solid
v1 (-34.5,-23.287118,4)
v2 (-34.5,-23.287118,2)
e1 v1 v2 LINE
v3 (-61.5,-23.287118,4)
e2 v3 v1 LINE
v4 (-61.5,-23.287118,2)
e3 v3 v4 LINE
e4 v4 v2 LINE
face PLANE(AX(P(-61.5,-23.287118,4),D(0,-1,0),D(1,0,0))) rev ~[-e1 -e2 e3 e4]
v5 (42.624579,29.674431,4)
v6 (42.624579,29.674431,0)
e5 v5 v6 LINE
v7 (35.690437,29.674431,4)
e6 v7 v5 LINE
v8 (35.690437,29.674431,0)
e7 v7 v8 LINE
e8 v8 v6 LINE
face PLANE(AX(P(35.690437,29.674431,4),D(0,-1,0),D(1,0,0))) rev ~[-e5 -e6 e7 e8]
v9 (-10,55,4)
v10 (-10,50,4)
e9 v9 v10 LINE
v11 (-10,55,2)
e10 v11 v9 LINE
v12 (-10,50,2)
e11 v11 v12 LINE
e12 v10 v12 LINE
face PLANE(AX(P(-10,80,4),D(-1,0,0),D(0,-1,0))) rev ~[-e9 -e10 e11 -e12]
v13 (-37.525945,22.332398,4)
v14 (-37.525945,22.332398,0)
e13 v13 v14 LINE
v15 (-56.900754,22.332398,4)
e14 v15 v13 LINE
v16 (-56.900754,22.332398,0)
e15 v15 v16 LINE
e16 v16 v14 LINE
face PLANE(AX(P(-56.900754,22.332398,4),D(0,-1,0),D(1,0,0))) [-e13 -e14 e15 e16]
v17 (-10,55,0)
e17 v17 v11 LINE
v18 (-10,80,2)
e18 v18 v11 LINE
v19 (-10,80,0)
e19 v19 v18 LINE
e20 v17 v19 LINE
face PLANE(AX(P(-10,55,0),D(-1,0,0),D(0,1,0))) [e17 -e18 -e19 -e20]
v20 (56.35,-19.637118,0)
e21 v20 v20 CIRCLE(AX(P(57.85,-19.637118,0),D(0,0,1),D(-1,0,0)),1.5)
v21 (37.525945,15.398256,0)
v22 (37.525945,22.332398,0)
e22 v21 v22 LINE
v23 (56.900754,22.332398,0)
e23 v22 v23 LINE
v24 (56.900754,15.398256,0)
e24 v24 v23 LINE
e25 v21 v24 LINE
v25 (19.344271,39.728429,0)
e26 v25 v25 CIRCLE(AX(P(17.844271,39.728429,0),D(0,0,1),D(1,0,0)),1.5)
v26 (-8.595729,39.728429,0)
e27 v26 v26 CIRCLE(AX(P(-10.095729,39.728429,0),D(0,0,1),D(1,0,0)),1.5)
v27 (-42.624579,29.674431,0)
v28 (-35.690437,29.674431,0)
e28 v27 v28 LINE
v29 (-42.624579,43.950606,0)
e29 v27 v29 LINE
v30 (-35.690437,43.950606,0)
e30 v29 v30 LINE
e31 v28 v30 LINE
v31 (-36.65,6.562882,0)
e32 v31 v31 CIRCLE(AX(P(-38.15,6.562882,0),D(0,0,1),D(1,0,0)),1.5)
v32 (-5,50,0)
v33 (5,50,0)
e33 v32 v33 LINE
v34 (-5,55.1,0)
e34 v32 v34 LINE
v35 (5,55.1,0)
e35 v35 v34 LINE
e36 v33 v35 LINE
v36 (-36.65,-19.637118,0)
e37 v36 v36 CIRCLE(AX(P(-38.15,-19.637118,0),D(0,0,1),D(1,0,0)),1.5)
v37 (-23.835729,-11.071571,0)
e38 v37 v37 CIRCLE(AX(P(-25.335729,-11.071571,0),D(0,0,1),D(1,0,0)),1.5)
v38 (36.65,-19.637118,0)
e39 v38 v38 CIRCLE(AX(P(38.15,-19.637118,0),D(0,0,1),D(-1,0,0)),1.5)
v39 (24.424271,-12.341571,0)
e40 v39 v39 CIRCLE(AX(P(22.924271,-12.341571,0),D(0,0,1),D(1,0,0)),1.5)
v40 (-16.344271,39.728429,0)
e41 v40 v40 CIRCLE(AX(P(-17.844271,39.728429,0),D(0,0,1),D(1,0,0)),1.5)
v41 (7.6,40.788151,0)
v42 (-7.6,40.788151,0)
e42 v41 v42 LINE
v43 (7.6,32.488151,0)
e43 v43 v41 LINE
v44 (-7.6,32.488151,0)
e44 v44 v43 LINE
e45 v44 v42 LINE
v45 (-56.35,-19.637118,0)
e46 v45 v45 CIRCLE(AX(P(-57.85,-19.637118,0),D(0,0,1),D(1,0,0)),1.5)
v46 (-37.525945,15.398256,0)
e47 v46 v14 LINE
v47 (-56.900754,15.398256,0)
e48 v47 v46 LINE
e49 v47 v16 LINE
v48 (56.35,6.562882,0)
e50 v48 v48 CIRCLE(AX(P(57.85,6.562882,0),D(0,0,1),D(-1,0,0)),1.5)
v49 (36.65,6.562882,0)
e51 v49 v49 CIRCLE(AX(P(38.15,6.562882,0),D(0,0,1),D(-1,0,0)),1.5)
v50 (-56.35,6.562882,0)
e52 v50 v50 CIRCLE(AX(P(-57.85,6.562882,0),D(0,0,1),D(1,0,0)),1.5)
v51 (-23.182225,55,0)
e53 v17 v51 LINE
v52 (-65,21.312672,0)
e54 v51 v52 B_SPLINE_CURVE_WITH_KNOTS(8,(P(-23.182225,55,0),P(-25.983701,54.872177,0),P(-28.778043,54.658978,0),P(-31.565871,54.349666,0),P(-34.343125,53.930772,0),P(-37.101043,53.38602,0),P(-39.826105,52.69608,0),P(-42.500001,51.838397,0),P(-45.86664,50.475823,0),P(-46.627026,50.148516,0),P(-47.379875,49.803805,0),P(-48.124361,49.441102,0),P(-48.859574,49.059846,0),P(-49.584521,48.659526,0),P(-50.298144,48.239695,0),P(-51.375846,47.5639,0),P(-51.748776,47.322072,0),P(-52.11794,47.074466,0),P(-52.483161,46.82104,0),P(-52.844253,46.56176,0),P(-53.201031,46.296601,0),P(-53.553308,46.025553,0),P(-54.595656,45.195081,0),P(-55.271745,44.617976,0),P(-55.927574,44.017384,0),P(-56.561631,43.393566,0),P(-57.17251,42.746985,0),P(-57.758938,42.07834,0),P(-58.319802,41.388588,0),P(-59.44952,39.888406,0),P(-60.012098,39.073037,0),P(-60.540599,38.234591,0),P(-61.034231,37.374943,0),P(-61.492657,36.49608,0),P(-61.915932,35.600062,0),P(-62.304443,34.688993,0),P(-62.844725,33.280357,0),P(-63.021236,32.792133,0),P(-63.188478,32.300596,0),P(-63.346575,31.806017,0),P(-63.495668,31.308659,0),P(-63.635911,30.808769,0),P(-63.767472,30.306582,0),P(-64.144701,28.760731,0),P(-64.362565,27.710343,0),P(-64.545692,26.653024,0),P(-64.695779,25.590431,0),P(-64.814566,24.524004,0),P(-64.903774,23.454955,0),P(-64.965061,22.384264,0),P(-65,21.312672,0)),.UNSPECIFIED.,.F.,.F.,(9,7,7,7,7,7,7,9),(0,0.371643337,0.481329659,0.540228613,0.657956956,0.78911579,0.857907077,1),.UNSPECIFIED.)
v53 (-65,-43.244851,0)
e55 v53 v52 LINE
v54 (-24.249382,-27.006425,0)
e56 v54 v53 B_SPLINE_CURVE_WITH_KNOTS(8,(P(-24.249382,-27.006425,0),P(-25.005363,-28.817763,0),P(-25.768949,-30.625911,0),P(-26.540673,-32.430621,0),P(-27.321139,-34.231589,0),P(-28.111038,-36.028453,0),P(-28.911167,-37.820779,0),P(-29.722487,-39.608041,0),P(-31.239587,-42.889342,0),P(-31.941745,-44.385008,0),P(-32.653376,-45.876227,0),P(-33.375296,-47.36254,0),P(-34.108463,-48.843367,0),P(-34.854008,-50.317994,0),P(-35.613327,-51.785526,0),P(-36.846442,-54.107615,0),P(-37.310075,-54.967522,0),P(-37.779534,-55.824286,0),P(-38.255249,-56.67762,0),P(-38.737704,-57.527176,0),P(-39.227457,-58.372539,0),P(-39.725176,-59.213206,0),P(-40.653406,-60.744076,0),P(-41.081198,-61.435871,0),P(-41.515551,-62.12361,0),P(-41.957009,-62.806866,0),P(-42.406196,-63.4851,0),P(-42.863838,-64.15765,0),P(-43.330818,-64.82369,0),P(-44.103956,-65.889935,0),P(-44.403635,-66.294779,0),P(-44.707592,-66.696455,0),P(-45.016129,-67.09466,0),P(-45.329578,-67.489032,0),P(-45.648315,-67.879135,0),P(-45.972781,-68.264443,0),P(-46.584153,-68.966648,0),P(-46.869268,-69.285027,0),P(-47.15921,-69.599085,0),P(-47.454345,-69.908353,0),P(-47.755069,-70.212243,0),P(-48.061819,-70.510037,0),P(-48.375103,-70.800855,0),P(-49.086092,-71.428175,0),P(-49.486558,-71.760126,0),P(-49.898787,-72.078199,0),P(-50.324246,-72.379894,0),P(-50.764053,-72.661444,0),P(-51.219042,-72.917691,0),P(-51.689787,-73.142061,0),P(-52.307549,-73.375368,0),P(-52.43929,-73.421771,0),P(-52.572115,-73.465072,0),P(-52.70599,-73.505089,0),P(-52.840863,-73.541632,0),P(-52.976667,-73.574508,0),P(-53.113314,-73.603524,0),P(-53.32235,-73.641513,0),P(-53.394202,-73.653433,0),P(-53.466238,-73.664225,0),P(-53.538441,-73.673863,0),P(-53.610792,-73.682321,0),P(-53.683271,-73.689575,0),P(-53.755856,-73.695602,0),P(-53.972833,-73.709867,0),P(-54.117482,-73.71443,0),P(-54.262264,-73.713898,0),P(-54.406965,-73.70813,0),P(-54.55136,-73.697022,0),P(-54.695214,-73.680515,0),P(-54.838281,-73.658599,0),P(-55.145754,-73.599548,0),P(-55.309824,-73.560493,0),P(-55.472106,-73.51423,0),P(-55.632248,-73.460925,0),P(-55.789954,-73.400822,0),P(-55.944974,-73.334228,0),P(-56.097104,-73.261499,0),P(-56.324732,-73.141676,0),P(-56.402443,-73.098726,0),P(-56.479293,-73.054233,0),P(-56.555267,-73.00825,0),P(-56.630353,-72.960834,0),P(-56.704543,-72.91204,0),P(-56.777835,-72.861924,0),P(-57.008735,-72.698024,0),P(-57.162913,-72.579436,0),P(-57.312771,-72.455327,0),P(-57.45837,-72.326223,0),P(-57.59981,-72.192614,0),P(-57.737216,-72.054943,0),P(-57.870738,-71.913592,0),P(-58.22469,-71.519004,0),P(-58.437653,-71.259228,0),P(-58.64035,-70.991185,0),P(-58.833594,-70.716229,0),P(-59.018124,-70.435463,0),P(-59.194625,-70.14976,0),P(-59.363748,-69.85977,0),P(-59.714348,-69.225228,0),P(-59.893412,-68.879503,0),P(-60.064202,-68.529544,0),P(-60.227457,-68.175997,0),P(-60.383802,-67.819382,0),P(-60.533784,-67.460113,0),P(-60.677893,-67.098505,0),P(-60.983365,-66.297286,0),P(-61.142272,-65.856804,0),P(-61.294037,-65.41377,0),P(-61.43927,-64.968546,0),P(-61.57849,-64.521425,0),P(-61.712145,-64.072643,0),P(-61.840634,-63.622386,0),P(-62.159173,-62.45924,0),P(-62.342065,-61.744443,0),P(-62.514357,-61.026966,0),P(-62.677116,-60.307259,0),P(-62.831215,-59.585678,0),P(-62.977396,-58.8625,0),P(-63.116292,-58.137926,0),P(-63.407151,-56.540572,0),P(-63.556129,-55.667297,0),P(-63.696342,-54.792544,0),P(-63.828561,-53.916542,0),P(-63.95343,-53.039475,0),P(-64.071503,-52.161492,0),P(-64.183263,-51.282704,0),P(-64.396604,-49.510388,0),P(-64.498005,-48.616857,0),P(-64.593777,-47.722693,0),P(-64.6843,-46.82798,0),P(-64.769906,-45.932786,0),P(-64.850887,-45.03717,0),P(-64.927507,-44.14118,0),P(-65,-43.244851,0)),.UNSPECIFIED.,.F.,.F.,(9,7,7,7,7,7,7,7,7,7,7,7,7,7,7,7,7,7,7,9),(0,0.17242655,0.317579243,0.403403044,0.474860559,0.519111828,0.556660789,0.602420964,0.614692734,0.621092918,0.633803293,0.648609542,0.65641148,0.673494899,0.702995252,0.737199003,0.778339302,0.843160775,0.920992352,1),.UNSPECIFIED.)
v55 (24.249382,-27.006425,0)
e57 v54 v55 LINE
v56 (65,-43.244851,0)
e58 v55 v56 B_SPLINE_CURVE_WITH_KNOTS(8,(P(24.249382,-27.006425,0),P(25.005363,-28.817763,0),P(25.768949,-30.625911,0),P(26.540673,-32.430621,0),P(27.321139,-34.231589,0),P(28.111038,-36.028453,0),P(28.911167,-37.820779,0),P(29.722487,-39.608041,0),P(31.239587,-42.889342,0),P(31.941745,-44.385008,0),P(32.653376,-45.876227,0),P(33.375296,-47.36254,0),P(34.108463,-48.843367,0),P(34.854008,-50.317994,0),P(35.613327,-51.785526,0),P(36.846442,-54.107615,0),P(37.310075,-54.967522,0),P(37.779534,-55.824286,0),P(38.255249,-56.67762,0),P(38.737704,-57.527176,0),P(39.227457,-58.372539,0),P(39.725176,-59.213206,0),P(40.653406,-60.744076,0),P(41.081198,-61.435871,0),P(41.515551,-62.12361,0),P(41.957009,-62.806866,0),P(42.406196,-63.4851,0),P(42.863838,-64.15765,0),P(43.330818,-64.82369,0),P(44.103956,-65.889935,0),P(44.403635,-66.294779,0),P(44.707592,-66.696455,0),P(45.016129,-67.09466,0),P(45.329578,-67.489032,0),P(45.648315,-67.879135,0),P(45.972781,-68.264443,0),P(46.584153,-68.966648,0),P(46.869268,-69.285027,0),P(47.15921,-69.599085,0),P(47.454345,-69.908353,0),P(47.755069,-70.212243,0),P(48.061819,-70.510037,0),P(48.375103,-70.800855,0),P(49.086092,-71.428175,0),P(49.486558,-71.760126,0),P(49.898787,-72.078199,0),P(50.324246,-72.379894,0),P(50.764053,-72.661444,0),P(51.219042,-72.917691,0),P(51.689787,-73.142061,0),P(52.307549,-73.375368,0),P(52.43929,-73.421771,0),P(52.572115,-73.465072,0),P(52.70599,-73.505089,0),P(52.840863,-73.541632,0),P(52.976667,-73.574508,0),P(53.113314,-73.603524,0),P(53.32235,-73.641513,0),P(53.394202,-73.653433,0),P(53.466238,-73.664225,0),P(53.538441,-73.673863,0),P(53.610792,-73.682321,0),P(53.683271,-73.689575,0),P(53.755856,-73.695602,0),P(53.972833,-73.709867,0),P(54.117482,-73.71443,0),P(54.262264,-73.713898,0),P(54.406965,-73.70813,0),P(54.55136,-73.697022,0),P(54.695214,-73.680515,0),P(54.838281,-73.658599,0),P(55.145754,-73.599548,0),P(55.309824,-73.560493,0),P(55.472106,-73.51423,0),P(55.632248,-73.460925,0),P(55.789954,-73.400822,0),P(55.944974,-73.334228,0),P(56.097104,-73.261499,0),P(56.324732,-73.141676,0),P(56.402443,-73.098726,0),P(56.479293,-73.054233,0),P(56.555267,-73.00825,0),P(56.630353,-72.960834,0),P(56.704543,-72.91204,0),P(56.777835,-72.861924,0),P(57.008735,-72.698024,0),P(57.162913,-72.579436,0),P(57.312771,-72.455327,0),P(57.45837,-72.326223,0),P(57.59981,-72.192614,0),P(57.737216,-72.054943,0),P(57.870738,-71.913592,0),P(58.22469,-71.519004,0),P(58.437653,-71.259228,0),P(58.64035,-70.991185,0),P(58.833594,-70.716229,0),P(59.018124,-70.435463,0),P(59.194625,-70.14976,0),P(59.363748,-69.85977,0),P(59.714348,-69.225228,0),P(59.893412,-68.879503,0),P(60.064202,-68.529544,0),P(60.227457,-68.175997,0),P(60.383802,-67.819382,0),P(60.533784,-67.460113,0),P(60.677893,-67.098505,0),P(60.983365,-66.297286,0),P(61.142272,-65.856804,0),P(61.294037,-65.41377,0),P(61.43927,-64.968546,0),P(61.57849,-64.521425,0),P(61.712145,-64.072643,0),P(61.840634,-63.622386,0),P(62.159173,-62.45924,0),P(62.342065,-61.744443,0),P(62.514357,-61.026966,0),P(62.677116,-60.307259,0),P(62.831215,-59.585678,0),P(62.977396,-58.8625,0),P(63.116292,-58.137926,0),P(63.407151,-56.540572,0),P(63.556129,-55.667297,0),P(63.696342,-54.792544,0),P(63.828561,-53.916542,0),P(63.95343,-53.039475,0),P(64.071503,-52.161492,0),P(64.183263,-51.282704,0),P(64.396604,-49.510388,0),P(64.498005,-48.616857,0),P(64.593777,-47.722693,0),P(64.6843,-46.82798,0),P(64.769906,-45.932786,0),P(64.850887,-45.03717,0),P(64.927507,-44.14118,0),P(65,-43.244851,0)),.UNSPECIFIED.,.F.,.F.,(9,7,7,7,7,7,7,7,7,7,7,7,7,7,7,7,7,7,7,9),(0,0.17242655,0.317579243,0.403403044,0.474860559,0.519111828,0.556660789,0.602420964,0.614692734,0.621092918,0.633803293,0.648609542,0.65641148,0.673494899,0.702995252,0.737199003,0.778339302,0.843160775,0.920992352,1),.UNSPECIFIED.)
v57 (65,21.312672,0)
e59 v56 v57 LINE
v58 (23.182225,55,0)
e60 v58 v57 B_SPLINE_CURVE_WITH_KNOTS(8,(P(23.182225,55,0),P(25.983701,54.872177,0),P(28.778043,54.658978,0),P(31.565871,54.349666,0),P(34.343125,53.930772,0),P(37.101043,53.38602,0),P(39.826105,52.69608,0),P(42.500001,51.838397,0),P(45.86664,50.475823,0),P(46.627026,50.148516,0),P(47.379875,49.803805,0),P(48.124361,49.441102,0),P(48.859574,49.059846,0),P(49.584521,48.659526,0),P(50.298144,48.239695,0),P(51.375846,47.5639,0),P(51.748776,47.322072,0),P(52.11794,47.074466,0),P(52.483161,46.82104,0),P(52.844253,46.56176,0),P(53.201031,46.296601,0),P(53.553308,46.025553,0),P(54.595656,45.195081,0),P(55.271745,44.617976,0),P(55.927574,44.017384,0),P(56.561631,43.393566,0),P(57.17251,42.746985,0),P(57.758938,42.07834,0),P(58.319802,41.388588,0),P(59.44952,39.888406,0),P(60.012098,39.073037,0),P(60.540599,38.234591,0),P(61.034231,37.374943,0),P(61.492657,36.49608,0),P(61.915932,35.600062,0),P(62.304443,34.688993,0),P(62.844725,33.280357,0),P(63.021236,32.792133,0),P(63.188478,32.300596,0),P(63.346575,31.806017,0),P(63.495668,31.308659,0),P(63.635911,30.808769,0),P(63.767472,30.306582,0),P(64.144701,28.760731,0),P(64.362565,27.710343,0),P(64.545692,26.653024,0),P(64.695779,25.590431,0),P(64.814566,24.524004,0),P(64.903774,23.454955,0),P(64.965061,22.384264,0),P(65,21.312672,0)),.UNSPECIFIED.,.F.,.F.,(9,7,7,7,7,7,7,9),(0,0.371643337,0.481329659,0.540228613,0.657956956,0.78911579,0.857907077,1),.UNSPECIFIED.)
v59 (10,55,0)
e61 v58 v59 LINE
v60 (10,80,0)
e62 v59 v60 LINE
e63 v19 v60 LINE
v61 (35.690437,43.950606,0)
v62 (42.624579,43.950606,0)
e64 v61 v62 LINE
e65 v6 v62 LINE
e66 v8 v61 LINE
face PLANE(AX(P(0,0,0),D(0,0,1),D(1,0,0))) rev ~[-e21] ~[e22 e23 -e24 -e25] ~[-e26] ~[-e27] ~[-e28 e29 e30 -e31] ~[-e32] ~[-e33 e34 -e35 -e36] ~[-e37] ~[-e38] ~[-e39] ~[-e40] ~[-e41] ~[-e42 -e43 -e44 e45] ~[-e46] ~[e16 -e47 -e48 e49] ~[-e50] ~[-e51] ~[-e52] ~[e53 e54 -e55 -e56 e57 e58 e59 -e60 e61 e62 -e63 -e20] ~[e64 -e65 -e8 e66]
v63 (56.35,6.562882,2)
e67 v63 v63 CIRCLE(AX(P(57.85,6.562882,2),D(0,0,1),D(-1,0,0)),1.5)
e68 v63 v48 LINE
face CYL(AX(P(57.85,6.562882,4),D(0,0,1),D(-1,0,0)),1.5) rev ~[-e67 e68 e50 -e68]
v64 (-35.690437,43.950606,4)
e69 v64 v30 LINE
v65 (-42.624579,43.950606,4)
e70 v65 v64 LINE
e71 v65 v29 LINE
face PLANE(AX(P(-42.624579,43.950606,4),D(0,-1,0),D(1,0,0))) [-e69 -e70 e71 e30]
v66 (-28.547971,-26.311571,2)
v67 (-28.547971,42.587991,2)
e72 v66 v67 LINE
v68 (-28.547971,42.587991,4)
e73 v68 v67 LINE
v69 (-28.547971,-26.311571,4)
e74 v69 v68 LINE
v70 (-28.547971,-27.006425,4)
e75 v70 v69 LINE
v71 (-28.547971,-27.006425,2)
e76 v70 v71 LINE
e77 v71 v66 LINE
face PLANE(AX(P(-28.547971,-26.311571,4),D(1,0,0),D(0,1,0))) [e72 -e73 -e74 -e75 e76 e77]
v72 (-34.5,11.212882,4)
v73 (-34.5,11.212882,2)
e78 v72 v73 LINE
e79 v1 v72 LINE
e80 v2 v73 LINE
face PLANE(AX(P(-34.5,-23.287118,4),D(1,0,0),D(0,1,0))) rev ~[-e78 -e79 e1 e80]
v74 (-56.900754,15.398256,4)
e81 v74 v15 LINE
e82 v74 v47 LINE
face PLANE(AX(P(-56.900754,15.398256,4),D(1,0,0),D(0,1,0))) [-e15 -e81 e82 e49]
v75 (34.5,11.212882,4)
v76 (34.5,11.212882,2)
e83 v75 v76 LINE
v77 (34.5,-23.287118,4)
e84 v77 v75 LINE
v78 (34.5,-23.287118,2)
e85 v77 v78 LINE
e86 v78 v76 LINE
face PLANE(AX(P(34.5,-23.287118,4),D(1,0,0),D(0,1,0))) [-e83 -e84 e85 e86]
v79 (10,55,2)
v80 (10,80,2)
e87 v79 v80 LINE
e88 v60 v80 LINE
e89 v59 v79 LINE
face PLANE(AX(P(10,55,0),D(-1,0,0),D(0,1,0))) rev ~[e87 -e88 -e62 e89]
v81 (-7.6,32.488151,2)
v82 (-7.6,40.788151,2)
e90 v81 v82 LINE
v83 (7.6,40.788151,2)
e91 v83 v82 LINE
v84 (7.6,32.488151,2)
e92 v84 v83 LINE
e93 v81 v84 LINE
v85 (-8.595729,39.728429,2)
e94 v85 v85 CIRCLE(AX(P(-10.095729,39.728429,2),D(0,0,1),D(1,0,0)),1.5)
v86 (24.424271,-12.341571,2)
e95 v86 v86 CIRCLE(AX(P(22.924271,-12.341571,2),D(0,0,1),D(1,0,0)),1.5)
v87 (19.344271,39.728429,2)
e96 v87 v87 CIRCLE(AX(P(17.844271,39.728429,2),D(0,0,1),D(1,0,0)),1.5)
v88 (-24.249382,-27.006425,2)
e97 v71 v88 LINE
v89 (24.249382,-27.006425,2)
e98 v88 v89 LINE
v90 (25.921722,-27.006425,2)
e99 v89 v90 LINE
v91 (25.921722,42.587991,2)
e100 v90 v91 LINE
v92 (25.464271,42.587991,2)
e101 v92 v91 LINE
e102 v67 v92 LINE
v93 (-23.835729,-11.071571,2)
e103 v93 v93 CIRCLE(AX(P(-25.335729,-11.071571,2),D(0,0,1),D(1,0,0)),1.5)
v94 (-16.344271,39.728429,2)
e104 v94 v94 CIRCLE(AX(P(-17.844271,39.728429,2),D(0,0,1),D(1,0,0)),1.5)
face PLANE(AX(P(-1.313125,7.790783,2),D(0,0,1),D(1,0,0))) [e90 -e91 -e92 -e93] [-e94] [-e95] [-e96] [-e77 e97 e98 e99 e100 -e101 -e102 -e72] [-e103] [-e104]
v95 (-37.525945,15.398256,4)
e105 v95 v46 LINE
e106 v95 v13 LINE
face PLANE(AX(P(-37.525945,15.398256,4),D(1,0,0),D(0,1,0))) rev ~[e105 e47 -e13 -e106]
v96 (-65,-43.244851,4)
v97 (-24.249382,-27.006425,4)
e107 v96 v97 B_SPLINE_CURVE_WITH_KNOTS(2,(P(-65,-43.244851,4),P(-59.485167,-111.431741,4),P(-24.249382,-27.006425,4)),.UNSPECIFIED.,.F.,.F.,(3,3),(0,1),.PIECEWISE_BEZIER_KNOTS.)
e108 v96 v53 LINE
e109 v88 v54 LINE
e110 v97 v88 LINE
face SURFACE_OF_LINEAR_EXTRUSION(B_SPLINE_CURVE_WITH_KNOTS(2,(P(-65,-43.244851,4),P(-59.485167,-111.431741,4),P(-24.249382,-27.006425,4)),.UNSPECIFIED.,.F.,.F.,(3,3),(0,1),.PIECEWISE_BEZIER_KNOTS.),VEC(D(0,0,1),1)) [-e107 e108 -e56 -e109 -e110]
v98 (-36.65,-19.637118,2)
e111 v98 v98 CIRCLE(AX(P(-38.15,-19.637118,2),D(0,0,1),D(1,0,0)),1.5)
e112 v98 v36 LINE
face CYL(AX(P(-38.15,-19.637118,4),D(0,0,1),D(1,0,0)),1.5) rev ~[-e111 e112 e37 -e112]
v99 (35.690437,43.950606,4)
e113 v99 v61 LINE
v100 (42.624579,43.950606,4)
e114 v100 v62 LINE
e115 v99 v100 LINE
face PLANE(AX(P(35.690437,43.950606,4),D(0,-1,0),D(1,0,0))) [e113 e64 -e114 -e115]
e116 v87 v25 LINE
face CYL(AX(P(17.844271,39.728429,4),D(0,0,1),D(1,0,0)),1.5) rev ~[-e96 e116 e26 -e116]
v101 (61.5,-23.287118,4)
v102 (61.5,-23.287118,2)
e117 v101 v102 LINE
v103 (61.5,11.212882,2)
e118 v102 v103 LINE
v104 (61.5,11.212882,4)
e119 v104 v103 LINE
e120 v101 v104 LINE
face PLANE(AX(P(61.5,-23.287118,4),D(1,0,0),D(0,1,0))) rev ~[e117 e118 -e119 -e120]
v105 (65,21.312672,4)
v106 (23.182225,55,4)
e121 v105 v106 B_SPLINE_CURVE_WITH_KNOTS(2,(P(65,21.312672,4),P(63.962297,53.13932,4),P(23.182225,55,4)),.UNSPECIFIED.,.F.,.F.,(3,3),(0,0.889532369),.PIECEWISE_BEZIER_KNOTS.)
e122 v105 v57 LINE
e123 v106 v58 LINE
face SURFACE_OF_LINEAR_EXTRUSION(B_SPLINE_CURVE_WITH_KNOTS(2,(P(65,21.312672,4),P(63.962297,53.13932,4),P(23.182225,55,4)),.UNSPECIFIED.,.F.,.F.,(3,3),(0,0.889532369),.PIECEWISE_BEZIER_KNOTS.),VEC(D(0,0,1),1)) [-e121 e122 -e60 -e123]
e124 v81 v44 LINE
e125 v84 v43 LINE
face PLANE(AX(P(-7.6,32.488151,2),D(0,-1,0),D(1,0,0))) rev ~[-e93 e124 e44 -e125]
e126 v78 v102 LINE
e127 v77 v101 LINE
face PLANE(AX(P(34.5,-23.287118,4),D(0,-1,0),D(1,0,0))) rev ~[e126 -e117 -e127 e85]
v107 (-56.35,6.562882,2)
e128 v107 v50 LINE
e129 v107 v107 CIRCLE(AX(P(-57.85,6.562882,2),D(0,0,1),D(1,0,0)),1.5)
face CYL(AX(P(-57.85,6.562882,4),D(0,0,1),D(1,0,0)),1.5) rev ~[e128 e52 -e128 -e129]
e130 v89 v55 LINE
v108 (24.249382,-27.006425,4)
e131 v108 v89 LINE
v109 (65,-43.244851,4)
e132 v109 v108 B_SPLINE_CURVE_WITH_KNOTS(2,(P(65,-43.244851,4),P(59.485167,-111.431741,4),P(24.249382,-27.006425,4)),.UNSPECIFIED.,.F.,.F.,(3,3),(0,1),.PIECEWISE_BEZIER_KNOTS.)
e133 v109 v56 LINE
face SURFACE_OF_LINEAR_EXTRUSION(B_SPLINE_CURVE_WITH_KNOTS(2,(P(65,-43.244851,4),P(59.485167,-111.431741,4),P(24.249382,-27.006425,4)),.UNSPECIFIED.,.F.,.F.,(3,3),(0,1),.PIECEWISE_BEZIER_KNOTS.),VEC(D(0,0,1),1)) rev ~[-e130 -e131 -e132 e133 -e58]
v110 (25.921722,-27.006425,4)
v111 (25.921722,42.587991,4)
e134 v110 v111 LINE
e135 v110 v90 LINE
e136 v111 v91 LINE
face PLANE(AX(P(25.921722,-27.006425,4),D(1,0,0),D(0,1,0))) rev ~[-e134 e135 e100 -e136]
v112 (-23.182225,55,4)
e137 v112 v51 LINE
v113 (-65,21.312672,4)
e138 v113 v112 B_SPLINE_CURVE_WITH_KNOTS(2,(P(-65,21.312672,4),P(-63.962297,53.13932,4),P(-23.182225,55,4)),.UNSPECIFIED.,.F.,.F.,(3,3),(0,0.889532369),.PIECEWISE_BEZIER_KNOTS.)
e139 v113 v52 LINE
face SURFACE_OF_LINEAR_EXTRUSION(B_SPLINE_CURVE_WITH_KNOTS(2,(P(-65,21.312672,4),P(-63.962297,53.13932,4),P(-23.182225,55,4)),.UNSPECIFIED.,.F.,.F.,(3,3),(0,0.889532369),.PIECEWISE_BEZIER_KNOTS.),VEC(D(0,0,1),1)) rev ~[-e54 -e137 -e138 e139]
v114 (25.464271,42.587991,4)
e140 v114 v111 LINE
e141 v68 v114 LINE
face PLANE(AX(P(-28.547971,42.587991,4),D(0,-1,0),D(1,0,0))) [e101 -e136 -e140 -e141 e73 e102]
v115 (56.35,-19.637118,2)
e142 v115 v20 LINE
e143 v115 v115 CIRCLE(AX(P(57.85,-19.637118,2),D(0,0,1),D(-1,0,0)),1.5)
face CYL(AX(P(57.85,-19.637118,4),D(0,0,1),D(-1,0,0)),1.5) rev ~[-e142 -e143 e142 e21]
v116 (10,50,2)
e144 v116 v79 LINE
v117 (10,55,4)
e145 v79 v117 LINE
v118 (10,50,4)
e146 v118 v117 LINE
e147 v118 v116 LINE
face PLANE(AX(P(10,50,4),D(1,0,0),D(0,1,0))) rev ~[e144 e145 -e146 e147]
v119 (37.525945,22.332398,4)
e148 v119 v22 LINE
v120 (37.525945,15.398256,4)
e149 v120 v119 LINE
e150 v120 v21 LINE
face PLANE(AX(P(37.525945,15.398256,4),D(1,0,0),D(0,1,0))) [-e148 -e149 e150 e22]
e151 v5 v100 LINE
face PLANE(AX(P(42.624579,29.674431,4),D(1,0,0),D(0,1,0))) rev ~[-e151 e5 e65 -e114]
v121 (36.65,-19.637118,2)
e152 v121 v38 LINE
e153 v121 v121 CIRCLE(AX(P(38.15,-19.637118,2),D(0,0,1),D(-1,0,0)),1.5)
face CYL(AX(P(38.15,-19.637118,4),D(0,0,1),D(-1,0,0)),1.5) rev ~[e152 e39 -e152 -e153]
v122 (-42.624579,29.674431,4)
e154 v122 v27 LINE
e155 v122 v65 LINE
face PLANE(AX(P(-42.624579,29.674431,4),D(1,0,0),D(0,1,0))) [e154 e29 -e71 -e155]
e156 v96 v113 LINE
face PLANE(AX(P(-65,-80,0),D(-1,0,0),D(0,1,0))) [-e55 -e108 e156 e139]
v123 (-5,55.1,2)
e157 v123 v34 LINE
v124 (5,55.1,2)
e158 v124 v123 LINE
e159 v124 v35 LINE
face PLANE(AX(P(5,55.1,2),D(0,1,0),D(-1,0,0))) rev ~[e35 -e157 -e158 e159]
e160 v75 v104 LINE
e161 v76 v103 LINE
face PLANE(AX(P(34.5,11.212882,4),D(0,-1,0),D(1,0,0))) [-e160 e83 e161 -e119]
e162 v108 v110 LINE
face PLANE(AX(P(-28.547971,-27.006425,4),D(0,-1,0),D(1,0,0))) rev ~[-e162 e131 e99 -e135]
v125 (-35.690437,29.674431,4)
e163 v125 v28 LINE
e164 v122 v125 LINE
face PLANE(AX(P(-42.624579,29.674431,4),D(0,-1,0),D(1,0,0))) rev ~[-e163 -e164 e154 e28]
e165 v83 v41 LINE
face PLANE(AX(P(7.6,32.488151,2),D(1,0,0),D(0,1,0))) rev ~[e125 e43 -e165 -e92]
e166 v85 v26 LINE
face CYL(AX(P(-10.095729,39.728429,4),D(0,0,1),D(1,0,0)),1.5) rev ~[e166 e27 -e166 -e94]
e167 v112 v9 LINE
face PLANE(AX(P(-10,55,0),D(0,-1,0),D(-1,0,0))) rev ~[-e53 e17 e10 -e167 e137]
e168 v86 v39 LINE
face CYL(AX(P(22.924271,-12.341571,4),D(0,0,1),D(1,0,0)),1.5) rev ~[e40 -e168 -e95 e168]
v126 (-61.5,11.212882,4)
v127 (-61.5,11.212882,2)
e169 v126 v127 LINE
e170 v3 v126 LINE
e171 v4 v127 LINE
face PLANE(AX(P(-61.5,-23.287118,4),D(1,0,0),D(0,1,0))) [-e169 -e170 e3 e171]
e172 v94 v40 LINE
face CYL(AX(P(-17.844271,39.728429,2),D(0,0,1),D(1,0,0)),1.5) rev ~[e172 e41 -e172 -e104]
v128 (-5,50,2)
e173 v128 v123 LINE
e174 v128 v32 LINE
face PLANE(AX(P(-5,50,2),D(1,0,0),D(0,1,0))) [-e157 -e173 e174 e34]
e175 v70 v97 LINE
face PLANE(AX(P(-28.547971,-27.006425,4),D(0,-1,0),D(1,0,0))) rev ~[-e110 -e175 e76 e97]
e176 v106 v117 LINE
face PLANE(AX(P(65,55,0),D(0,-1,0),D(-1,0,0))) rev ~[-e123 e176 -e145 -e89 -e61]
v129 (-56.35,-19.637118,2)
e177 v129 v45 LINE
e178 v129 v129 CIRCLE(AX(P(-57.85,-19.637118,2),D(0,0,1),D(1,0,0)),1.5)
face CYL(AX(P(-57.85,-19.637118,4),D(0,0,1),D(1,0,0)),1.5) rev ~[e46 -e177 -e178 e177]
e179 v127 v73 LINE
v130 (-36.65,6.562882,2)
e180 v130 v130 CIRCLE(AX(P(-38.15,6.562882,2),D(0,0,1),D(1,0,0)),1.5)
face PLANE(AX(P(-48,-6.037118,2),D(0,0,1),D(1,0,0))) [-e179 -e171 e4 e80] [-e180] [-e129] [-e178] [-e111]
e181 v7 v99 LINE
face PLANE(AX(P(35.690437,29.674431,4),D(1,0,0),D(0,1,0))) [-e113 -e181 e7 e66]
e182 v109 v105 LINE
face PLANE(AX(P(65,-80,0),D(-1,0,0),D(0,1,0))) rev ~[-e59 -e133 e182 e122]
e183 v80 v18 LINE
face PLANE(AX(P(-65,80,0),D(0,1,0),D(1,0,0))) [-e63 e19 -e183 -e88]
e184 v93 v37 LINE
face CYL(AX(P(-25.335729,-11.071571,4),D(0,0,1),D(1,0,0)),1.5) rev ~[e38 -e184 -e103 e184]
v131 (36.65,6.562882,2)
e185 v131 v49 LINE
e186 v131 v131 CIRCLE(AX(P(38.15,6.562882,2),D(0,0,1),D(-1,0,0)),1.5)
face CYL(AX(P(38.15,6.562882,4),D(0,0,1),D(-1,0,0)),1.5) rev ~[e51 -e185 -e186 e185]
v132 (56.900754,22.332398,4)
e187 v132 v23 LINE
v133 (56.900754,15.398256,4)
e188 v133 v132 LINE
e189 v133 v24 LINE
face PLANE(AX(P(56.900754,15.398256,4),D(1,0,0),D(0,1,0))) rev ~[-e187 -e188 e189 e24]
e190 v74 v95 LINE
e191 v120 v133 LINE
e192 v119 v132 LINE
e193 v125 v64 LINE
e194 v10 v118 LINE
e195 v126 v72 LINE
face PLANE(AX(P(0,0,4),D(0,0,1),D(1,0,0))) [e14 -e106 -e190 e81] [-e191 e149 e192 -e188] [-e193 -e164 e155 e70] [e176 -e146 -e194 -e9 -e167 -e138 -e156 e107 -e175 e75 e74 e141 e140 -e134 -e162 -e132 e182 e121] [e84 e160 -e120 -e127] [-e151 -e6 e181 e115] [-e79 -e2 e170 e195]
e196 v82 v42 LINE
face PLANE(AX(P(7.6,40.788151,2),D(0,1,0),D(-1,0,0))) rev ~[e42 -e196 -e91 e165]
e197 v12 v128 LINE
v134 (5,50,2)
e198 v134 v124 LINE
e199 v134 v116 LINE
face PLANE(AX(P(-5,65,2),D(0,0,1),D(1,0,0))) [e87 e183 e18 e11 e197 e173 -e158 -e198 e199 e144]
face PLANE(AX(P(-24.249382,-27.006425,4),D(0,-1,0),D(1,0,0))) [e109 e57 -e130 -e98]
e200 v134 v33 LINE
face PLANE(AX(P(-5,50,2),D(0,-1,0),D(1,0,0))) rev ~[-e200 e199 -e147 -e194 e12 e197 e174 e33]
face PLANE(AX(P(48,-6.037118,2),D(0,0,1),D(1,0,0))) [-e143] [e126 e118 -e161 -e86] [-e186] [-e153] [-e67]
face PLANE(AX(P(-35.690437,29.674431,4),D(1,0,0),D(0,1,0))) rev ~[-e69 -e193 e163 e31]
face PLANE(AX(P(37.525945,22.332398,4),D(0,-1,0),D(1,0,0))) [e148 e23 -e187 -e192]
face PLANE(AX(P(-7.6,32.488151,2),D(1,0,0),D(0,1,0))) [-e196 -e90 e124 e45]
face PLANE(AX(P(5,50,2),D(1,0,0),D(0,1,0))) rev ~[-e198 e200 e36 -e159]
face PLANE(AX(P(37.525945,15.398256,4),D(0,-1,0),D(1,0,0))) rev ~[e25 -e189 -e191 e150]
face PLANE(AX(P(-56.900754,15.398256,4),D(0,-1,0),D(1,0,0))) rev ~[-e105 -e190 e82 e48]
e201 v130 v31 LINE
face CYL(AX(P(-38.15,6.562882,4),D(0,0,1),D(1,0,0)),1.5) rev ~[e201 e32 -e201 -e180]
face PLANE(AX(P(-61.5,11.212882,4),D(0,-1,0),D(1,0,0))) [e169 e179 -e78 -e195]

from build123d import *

# Parameters (mm, degrees)
IZIM1_W                     = 130
IZIM1_H                     = 160
Y_KSEKLIK_EKSTR_ZYON1_DEPTH = 4
IZIM3_W                     = 55
IZIM3_H                     = 25
KES_EKSTR_ZYON1_DEPTH       = 4
KES_EKSTR_ZYON2_DEPTH       = 10
IZIM5_W                     = 54.012242348
IZIM5_H                     = 68.899562137
KES_EKSTR_ZYON3_DEPTH       = 2
IZIM8_W                     = 54.469692937
IZIM8_H                     = 69.59441616
KES_EKSTR_ZYON5_DEPTH       = 2
IZIM9_R                     = 1.5
KES_EKSTR_ZYON6_DEPTH       = 5
IZIM10_W                    = 27
IZIM10_H                    = 34.5
KES_EKSTR_ZYON7_DEPTH       = 2
IZIM11_R                    = 1.5
KES_EKSTR_ZYON8_DEPTH       = 5
KES_EKSTR_ZYON9_DEPTH       = 104.155222988
KES_EKSTR_ZYON9_DEPTH_BACK  = 5
KES_EKSTR_ZYON10_DEPTH      = 2
IZIM14_W                    = 5
IZIM14_H                    = 5.1
KES_EKSTR_ZYON11_DEPTH      = 9
IZIM15_W                    = 6.934142085
IZIM15_H                    = 14.276174882
IZIM15_W_2                  = 19.374808768
IZIM15_H_2                  = 6.934142085
KES_EKSTR_ZYON12_DEPTH      = 9
IZIM16_R                    = 1.5
KES_EKSTR_ZYON13_DEPTH      = 10
IZIM17_W                    = 7.6
IZIM17_H                    = 8.3
KES_EKSTR_ZYON14_DEPTH      = 10


with BuildPart() as part:
    # Çizim1 → Yükseklik-Ekstrüzyon1 (new body)
    with BuildSketch(Plane.XY):
        Rectangle(IZIM1_W, IZIM1_H)
    extrude(amount=Y_KSEKLIK_EKSTR_ZYON1_DEPTH)

    # Çizim3 → Kes-Ekstrüzyon1 (cut)
    with BuildSketch(Plane(origin=(0, 0, 0), x_dir=(-1, 0, 0), z_dir=(0, 0, -1))):
        with Locations((37.5, 67.5)):
            Rectangle(IZIM3_W, IZIM3_H)
        with Locations((-37.5, 67.5)):
            Rectangle(IZIM3_W, IZIM3_H)
    extrude(amount=-KES_EKSTR_ZYON1_DEPTH, mode=Mode.SUBTRACT)

    # Çizim4 → Kes-Ekstrüzyon2 (cut)
    with BuildSketch(Plane.XY.offset(4)):
        with BuildLine():
            Line((-24.249382275, -27.006425474), (24.249382275, -27.006425474))
            add(Edge.make_bspline(
                [(65, -43.244851104), (59.485167295, -111.431741319), (24.249382275, -27.006425474)],
                knots=[0, 0, 0, 1, 1, 1], degree=2))
            Line((65, -43.244851104), (65, -80))
            Line((65, -80), (-65, -80))
            Line((-65, -80), (-65, -43.244851104))
            add(Edge.make_bspline(
                [(-65, -43.244851104), (-59.485167295, -111.431741319), (-24.249382275, -27.006425474)],
                knots=[0, 0, 0, 1, 1, 1], degree=2))
        make_face()
    extrude(amount=-KES_EKSTR_ZYON2_DEPTH, mode=Mode.SUBTRACT)

    # Çizim5 → Kes-Ekstrüzyon3 (cut)
    with BuildSketch(Plane.XY.offset(4)):
        with Locations((-1.54185026, 8.138209618)):
            Rectangle(IZIM5_W, IZIM5_H)
    extrude(amount=-KES_EKSTR_ZYON3_DEPTH, mode=Mode.SUBTRACT)

    # Çizim8 → Kes-Ekstrüzyon5 (cut)
    with BuildSketch(Plane.XY.offset(4)):
        with Locations((-1.313124966, 7.790782606)):
            Rectangle(IZIM8_W, IZIM8_H)
    extrude(amount=-KES_EKSTR_ZYON5_DEPTH, mode=Mode.SUBTRACT)

    # Çizim9 → Kes-Ekstrüzyon6 (cut)
    with BuildSketch(Plane.XY.offset(4)):
        with Locations((-10.095729086, 39.728428549)):
            Circle(IZIM9_R)
        with Locations((17.844270914, 39.728428549)):
            Circle(IZIM9_R)
        with Locations((-25.335729086, -11.071571451)):
            Circle(IZIM9_R)
        with Locations((22.924270914, -12.341571451)):
            Circle(IZIM9_R)
    extrude(amount=-KES_EKSTR_ZYON6_DEPTH, mode=Mode.SUBTRACT)

    # Çizim10 → Kes-Ekstrüzyon7 (cut)
    with BuildSketch(Plane.XY.offset(4)):
        with Locations((-48, -6.037117551)):
            Rectangle(IZIM10_W, IZIM10_H)
        with Locations((48, -6.037117551)):
            Rectangle(IZIM10_W, IZIM10_H)
    extrude(amount=-KES_EKSTR_ZYON7_DEPTH, mode=Mode.SUBTRACT)

    # Çizim11 → Kes-Ekstrüzyon8 (cut)
    with BuildSketch(Plane.XY.offset(4)):
        with Locations((-57.85, -19.637117551)):
            Circle(IZIM11_R)
        with Locations((-38.15, -19.637117551)):
            Circle(IZIM11_R)
        with Locations((-38.15, 6.562882449)):
            Circle(IZIM11_R)
        with Locations((-57.85, 6.562882449)):
            Circle(IZIM11_R)
        with Locations(Location((57.85, -19.637117551, 0), (0, 0, 180))):
            Circle(IZIM11_R)
        with Locations(Location((38.15, -19.637117551, 0), (0, 0, 180))):
            Circle(IZIM11_R)
        with Locations(Location((38.15, 6.562882449, 0), (0, 0, 180))):
            Circle(IZIM11_R)
        with Locations(Location((57.85, 6.562882449, 0), (0, 0, 180))):
            Circle(IZIM11_R)
    extrude(amount=-KES_EKSTR_ZYON8_DEPTH, mode=Mode.SUBTRACT)

    # Çizim12 → Kes-Ekstrüzyon9 (cut, two sides)
    with BuildSketch(Plane.XY.offset(4)) as kes_ekstr_zyon9_sk:
        with BuildLine():
            Line((-65, 55), (-65, 21.312671553))
            add(Edge.make_bspline(
                [(-65, 21.312671553), (-63.962297288, 53.139320322), (-23.182224936, 55)],
                knots=[0, 0, 0, 0.889532369, 0.889532369, 0.889532369], degree=2))
            Line((-23.182224936, 55), (-65, 55))
        make_face()
        with BuildLine():
            add(Edge.make_bspline(
                [(65, 21.312671553), (63.962297288, 53.139320322), (23.182224936, 55)],
                knots=[0, 0, 0, 0.889532369, 0.889532369, 0.889532369], degree=2))
            Line((65, 21.312671553), (65, 55))
            Line((65, 55), (23.182224936, 55))
        make_face()
    extrude(amount=KES_EKSTR_ZYON9_DEPTH, mode=Mode.SUBTRACT)
    extrude(kes_ekstr_zyon9_sk.sketch, amount=-KES_EKSTR_ZYON9_DEPTH_BACK, mode=Mode.SUBTRACT)

    # Çizim13 → Kes-Ekstrüzyon10 (cut)
    with BuildSketch(Plane.XY.offset(4)):
        Polygon((0, 50), (0, 80), (-10, 80), (-10, 55), (-10, 50), align=None)
        Polygon((10, 80), (0, 80), (0, 50), (10, 50), (10, 55), align=None)
    extrude(amount=-KES_EKSTR_ZYON10_DEPTH, mode=Mode.SUBTRACT)

    # Çizim14 → Kes-Ekstrüzyon11 (cut)
    with BuildSketch(Plane.XY.offset(2)):
        with Locations((-2.5, 52.55)):
            Rectangle(IZIM14_W, IZIM14_H)
        with Locations((2.5, 52.55)):
            Rectangle(IZIM14_W, IZIM14_H)
    extrude(amount=-KES_EKSTR_ZYON11_DEPTH, mode=Mode.SUBTRACT)

    # Çizim15 → Kes-Ekstrüzyon12 (cut)
    with BuildSketch(Plane.XY.offset(4)):
        with Locations((-39.157508247, 36.812518567)):
            Rectangle(IZIM15_W, IZIM15_H)
        with Locations((-47.213349787, 18.865327288)):
            Rectangle(IZIM15_W_2, IZIM15_H_2)
        with Locations((39.157508247, 36.812518567)):
            Rectangle(IZIM15_W, IZIM15_H)
        with Locations((47.213349787, 18.865327288)):
            Rectangle(IZIM15_W_2, IZIM15_H_2)
    extrude(amount=-KES_EKSTR_ZYON12_DEPTH, mode=Mode.SUBTRACT)

    # Çizim16 → Kes-Ekstrüzyon13 (cut)
    with BuildSketch(Plane.XY.offset(2)):
        with Locations((-17.844270914, 39.728428549)):
            Circle(IZIM16_R)
    extrude(amount=-KES_EKSTR_ZYON13_DEPTH, mode=Mode.SUBTRACT)

    # Çizim17 → Kes-Ekstrüzyon14 (cut)
    with BuildSketch(Plane.XY.offset(2)):
        with Locations((-3.8, 36.638150808)):
            Rectangle(IZIM17_W, IZIM17_H)
        with Locations((3.8, 36.638150808)):
            Rectangle(IZIM17_W, IZIM17_H)
    extrude(amount=-KES_EKSTR_ZYON14_DEPTH, mode=Mode.SUBTRACT)


solid = part.part
